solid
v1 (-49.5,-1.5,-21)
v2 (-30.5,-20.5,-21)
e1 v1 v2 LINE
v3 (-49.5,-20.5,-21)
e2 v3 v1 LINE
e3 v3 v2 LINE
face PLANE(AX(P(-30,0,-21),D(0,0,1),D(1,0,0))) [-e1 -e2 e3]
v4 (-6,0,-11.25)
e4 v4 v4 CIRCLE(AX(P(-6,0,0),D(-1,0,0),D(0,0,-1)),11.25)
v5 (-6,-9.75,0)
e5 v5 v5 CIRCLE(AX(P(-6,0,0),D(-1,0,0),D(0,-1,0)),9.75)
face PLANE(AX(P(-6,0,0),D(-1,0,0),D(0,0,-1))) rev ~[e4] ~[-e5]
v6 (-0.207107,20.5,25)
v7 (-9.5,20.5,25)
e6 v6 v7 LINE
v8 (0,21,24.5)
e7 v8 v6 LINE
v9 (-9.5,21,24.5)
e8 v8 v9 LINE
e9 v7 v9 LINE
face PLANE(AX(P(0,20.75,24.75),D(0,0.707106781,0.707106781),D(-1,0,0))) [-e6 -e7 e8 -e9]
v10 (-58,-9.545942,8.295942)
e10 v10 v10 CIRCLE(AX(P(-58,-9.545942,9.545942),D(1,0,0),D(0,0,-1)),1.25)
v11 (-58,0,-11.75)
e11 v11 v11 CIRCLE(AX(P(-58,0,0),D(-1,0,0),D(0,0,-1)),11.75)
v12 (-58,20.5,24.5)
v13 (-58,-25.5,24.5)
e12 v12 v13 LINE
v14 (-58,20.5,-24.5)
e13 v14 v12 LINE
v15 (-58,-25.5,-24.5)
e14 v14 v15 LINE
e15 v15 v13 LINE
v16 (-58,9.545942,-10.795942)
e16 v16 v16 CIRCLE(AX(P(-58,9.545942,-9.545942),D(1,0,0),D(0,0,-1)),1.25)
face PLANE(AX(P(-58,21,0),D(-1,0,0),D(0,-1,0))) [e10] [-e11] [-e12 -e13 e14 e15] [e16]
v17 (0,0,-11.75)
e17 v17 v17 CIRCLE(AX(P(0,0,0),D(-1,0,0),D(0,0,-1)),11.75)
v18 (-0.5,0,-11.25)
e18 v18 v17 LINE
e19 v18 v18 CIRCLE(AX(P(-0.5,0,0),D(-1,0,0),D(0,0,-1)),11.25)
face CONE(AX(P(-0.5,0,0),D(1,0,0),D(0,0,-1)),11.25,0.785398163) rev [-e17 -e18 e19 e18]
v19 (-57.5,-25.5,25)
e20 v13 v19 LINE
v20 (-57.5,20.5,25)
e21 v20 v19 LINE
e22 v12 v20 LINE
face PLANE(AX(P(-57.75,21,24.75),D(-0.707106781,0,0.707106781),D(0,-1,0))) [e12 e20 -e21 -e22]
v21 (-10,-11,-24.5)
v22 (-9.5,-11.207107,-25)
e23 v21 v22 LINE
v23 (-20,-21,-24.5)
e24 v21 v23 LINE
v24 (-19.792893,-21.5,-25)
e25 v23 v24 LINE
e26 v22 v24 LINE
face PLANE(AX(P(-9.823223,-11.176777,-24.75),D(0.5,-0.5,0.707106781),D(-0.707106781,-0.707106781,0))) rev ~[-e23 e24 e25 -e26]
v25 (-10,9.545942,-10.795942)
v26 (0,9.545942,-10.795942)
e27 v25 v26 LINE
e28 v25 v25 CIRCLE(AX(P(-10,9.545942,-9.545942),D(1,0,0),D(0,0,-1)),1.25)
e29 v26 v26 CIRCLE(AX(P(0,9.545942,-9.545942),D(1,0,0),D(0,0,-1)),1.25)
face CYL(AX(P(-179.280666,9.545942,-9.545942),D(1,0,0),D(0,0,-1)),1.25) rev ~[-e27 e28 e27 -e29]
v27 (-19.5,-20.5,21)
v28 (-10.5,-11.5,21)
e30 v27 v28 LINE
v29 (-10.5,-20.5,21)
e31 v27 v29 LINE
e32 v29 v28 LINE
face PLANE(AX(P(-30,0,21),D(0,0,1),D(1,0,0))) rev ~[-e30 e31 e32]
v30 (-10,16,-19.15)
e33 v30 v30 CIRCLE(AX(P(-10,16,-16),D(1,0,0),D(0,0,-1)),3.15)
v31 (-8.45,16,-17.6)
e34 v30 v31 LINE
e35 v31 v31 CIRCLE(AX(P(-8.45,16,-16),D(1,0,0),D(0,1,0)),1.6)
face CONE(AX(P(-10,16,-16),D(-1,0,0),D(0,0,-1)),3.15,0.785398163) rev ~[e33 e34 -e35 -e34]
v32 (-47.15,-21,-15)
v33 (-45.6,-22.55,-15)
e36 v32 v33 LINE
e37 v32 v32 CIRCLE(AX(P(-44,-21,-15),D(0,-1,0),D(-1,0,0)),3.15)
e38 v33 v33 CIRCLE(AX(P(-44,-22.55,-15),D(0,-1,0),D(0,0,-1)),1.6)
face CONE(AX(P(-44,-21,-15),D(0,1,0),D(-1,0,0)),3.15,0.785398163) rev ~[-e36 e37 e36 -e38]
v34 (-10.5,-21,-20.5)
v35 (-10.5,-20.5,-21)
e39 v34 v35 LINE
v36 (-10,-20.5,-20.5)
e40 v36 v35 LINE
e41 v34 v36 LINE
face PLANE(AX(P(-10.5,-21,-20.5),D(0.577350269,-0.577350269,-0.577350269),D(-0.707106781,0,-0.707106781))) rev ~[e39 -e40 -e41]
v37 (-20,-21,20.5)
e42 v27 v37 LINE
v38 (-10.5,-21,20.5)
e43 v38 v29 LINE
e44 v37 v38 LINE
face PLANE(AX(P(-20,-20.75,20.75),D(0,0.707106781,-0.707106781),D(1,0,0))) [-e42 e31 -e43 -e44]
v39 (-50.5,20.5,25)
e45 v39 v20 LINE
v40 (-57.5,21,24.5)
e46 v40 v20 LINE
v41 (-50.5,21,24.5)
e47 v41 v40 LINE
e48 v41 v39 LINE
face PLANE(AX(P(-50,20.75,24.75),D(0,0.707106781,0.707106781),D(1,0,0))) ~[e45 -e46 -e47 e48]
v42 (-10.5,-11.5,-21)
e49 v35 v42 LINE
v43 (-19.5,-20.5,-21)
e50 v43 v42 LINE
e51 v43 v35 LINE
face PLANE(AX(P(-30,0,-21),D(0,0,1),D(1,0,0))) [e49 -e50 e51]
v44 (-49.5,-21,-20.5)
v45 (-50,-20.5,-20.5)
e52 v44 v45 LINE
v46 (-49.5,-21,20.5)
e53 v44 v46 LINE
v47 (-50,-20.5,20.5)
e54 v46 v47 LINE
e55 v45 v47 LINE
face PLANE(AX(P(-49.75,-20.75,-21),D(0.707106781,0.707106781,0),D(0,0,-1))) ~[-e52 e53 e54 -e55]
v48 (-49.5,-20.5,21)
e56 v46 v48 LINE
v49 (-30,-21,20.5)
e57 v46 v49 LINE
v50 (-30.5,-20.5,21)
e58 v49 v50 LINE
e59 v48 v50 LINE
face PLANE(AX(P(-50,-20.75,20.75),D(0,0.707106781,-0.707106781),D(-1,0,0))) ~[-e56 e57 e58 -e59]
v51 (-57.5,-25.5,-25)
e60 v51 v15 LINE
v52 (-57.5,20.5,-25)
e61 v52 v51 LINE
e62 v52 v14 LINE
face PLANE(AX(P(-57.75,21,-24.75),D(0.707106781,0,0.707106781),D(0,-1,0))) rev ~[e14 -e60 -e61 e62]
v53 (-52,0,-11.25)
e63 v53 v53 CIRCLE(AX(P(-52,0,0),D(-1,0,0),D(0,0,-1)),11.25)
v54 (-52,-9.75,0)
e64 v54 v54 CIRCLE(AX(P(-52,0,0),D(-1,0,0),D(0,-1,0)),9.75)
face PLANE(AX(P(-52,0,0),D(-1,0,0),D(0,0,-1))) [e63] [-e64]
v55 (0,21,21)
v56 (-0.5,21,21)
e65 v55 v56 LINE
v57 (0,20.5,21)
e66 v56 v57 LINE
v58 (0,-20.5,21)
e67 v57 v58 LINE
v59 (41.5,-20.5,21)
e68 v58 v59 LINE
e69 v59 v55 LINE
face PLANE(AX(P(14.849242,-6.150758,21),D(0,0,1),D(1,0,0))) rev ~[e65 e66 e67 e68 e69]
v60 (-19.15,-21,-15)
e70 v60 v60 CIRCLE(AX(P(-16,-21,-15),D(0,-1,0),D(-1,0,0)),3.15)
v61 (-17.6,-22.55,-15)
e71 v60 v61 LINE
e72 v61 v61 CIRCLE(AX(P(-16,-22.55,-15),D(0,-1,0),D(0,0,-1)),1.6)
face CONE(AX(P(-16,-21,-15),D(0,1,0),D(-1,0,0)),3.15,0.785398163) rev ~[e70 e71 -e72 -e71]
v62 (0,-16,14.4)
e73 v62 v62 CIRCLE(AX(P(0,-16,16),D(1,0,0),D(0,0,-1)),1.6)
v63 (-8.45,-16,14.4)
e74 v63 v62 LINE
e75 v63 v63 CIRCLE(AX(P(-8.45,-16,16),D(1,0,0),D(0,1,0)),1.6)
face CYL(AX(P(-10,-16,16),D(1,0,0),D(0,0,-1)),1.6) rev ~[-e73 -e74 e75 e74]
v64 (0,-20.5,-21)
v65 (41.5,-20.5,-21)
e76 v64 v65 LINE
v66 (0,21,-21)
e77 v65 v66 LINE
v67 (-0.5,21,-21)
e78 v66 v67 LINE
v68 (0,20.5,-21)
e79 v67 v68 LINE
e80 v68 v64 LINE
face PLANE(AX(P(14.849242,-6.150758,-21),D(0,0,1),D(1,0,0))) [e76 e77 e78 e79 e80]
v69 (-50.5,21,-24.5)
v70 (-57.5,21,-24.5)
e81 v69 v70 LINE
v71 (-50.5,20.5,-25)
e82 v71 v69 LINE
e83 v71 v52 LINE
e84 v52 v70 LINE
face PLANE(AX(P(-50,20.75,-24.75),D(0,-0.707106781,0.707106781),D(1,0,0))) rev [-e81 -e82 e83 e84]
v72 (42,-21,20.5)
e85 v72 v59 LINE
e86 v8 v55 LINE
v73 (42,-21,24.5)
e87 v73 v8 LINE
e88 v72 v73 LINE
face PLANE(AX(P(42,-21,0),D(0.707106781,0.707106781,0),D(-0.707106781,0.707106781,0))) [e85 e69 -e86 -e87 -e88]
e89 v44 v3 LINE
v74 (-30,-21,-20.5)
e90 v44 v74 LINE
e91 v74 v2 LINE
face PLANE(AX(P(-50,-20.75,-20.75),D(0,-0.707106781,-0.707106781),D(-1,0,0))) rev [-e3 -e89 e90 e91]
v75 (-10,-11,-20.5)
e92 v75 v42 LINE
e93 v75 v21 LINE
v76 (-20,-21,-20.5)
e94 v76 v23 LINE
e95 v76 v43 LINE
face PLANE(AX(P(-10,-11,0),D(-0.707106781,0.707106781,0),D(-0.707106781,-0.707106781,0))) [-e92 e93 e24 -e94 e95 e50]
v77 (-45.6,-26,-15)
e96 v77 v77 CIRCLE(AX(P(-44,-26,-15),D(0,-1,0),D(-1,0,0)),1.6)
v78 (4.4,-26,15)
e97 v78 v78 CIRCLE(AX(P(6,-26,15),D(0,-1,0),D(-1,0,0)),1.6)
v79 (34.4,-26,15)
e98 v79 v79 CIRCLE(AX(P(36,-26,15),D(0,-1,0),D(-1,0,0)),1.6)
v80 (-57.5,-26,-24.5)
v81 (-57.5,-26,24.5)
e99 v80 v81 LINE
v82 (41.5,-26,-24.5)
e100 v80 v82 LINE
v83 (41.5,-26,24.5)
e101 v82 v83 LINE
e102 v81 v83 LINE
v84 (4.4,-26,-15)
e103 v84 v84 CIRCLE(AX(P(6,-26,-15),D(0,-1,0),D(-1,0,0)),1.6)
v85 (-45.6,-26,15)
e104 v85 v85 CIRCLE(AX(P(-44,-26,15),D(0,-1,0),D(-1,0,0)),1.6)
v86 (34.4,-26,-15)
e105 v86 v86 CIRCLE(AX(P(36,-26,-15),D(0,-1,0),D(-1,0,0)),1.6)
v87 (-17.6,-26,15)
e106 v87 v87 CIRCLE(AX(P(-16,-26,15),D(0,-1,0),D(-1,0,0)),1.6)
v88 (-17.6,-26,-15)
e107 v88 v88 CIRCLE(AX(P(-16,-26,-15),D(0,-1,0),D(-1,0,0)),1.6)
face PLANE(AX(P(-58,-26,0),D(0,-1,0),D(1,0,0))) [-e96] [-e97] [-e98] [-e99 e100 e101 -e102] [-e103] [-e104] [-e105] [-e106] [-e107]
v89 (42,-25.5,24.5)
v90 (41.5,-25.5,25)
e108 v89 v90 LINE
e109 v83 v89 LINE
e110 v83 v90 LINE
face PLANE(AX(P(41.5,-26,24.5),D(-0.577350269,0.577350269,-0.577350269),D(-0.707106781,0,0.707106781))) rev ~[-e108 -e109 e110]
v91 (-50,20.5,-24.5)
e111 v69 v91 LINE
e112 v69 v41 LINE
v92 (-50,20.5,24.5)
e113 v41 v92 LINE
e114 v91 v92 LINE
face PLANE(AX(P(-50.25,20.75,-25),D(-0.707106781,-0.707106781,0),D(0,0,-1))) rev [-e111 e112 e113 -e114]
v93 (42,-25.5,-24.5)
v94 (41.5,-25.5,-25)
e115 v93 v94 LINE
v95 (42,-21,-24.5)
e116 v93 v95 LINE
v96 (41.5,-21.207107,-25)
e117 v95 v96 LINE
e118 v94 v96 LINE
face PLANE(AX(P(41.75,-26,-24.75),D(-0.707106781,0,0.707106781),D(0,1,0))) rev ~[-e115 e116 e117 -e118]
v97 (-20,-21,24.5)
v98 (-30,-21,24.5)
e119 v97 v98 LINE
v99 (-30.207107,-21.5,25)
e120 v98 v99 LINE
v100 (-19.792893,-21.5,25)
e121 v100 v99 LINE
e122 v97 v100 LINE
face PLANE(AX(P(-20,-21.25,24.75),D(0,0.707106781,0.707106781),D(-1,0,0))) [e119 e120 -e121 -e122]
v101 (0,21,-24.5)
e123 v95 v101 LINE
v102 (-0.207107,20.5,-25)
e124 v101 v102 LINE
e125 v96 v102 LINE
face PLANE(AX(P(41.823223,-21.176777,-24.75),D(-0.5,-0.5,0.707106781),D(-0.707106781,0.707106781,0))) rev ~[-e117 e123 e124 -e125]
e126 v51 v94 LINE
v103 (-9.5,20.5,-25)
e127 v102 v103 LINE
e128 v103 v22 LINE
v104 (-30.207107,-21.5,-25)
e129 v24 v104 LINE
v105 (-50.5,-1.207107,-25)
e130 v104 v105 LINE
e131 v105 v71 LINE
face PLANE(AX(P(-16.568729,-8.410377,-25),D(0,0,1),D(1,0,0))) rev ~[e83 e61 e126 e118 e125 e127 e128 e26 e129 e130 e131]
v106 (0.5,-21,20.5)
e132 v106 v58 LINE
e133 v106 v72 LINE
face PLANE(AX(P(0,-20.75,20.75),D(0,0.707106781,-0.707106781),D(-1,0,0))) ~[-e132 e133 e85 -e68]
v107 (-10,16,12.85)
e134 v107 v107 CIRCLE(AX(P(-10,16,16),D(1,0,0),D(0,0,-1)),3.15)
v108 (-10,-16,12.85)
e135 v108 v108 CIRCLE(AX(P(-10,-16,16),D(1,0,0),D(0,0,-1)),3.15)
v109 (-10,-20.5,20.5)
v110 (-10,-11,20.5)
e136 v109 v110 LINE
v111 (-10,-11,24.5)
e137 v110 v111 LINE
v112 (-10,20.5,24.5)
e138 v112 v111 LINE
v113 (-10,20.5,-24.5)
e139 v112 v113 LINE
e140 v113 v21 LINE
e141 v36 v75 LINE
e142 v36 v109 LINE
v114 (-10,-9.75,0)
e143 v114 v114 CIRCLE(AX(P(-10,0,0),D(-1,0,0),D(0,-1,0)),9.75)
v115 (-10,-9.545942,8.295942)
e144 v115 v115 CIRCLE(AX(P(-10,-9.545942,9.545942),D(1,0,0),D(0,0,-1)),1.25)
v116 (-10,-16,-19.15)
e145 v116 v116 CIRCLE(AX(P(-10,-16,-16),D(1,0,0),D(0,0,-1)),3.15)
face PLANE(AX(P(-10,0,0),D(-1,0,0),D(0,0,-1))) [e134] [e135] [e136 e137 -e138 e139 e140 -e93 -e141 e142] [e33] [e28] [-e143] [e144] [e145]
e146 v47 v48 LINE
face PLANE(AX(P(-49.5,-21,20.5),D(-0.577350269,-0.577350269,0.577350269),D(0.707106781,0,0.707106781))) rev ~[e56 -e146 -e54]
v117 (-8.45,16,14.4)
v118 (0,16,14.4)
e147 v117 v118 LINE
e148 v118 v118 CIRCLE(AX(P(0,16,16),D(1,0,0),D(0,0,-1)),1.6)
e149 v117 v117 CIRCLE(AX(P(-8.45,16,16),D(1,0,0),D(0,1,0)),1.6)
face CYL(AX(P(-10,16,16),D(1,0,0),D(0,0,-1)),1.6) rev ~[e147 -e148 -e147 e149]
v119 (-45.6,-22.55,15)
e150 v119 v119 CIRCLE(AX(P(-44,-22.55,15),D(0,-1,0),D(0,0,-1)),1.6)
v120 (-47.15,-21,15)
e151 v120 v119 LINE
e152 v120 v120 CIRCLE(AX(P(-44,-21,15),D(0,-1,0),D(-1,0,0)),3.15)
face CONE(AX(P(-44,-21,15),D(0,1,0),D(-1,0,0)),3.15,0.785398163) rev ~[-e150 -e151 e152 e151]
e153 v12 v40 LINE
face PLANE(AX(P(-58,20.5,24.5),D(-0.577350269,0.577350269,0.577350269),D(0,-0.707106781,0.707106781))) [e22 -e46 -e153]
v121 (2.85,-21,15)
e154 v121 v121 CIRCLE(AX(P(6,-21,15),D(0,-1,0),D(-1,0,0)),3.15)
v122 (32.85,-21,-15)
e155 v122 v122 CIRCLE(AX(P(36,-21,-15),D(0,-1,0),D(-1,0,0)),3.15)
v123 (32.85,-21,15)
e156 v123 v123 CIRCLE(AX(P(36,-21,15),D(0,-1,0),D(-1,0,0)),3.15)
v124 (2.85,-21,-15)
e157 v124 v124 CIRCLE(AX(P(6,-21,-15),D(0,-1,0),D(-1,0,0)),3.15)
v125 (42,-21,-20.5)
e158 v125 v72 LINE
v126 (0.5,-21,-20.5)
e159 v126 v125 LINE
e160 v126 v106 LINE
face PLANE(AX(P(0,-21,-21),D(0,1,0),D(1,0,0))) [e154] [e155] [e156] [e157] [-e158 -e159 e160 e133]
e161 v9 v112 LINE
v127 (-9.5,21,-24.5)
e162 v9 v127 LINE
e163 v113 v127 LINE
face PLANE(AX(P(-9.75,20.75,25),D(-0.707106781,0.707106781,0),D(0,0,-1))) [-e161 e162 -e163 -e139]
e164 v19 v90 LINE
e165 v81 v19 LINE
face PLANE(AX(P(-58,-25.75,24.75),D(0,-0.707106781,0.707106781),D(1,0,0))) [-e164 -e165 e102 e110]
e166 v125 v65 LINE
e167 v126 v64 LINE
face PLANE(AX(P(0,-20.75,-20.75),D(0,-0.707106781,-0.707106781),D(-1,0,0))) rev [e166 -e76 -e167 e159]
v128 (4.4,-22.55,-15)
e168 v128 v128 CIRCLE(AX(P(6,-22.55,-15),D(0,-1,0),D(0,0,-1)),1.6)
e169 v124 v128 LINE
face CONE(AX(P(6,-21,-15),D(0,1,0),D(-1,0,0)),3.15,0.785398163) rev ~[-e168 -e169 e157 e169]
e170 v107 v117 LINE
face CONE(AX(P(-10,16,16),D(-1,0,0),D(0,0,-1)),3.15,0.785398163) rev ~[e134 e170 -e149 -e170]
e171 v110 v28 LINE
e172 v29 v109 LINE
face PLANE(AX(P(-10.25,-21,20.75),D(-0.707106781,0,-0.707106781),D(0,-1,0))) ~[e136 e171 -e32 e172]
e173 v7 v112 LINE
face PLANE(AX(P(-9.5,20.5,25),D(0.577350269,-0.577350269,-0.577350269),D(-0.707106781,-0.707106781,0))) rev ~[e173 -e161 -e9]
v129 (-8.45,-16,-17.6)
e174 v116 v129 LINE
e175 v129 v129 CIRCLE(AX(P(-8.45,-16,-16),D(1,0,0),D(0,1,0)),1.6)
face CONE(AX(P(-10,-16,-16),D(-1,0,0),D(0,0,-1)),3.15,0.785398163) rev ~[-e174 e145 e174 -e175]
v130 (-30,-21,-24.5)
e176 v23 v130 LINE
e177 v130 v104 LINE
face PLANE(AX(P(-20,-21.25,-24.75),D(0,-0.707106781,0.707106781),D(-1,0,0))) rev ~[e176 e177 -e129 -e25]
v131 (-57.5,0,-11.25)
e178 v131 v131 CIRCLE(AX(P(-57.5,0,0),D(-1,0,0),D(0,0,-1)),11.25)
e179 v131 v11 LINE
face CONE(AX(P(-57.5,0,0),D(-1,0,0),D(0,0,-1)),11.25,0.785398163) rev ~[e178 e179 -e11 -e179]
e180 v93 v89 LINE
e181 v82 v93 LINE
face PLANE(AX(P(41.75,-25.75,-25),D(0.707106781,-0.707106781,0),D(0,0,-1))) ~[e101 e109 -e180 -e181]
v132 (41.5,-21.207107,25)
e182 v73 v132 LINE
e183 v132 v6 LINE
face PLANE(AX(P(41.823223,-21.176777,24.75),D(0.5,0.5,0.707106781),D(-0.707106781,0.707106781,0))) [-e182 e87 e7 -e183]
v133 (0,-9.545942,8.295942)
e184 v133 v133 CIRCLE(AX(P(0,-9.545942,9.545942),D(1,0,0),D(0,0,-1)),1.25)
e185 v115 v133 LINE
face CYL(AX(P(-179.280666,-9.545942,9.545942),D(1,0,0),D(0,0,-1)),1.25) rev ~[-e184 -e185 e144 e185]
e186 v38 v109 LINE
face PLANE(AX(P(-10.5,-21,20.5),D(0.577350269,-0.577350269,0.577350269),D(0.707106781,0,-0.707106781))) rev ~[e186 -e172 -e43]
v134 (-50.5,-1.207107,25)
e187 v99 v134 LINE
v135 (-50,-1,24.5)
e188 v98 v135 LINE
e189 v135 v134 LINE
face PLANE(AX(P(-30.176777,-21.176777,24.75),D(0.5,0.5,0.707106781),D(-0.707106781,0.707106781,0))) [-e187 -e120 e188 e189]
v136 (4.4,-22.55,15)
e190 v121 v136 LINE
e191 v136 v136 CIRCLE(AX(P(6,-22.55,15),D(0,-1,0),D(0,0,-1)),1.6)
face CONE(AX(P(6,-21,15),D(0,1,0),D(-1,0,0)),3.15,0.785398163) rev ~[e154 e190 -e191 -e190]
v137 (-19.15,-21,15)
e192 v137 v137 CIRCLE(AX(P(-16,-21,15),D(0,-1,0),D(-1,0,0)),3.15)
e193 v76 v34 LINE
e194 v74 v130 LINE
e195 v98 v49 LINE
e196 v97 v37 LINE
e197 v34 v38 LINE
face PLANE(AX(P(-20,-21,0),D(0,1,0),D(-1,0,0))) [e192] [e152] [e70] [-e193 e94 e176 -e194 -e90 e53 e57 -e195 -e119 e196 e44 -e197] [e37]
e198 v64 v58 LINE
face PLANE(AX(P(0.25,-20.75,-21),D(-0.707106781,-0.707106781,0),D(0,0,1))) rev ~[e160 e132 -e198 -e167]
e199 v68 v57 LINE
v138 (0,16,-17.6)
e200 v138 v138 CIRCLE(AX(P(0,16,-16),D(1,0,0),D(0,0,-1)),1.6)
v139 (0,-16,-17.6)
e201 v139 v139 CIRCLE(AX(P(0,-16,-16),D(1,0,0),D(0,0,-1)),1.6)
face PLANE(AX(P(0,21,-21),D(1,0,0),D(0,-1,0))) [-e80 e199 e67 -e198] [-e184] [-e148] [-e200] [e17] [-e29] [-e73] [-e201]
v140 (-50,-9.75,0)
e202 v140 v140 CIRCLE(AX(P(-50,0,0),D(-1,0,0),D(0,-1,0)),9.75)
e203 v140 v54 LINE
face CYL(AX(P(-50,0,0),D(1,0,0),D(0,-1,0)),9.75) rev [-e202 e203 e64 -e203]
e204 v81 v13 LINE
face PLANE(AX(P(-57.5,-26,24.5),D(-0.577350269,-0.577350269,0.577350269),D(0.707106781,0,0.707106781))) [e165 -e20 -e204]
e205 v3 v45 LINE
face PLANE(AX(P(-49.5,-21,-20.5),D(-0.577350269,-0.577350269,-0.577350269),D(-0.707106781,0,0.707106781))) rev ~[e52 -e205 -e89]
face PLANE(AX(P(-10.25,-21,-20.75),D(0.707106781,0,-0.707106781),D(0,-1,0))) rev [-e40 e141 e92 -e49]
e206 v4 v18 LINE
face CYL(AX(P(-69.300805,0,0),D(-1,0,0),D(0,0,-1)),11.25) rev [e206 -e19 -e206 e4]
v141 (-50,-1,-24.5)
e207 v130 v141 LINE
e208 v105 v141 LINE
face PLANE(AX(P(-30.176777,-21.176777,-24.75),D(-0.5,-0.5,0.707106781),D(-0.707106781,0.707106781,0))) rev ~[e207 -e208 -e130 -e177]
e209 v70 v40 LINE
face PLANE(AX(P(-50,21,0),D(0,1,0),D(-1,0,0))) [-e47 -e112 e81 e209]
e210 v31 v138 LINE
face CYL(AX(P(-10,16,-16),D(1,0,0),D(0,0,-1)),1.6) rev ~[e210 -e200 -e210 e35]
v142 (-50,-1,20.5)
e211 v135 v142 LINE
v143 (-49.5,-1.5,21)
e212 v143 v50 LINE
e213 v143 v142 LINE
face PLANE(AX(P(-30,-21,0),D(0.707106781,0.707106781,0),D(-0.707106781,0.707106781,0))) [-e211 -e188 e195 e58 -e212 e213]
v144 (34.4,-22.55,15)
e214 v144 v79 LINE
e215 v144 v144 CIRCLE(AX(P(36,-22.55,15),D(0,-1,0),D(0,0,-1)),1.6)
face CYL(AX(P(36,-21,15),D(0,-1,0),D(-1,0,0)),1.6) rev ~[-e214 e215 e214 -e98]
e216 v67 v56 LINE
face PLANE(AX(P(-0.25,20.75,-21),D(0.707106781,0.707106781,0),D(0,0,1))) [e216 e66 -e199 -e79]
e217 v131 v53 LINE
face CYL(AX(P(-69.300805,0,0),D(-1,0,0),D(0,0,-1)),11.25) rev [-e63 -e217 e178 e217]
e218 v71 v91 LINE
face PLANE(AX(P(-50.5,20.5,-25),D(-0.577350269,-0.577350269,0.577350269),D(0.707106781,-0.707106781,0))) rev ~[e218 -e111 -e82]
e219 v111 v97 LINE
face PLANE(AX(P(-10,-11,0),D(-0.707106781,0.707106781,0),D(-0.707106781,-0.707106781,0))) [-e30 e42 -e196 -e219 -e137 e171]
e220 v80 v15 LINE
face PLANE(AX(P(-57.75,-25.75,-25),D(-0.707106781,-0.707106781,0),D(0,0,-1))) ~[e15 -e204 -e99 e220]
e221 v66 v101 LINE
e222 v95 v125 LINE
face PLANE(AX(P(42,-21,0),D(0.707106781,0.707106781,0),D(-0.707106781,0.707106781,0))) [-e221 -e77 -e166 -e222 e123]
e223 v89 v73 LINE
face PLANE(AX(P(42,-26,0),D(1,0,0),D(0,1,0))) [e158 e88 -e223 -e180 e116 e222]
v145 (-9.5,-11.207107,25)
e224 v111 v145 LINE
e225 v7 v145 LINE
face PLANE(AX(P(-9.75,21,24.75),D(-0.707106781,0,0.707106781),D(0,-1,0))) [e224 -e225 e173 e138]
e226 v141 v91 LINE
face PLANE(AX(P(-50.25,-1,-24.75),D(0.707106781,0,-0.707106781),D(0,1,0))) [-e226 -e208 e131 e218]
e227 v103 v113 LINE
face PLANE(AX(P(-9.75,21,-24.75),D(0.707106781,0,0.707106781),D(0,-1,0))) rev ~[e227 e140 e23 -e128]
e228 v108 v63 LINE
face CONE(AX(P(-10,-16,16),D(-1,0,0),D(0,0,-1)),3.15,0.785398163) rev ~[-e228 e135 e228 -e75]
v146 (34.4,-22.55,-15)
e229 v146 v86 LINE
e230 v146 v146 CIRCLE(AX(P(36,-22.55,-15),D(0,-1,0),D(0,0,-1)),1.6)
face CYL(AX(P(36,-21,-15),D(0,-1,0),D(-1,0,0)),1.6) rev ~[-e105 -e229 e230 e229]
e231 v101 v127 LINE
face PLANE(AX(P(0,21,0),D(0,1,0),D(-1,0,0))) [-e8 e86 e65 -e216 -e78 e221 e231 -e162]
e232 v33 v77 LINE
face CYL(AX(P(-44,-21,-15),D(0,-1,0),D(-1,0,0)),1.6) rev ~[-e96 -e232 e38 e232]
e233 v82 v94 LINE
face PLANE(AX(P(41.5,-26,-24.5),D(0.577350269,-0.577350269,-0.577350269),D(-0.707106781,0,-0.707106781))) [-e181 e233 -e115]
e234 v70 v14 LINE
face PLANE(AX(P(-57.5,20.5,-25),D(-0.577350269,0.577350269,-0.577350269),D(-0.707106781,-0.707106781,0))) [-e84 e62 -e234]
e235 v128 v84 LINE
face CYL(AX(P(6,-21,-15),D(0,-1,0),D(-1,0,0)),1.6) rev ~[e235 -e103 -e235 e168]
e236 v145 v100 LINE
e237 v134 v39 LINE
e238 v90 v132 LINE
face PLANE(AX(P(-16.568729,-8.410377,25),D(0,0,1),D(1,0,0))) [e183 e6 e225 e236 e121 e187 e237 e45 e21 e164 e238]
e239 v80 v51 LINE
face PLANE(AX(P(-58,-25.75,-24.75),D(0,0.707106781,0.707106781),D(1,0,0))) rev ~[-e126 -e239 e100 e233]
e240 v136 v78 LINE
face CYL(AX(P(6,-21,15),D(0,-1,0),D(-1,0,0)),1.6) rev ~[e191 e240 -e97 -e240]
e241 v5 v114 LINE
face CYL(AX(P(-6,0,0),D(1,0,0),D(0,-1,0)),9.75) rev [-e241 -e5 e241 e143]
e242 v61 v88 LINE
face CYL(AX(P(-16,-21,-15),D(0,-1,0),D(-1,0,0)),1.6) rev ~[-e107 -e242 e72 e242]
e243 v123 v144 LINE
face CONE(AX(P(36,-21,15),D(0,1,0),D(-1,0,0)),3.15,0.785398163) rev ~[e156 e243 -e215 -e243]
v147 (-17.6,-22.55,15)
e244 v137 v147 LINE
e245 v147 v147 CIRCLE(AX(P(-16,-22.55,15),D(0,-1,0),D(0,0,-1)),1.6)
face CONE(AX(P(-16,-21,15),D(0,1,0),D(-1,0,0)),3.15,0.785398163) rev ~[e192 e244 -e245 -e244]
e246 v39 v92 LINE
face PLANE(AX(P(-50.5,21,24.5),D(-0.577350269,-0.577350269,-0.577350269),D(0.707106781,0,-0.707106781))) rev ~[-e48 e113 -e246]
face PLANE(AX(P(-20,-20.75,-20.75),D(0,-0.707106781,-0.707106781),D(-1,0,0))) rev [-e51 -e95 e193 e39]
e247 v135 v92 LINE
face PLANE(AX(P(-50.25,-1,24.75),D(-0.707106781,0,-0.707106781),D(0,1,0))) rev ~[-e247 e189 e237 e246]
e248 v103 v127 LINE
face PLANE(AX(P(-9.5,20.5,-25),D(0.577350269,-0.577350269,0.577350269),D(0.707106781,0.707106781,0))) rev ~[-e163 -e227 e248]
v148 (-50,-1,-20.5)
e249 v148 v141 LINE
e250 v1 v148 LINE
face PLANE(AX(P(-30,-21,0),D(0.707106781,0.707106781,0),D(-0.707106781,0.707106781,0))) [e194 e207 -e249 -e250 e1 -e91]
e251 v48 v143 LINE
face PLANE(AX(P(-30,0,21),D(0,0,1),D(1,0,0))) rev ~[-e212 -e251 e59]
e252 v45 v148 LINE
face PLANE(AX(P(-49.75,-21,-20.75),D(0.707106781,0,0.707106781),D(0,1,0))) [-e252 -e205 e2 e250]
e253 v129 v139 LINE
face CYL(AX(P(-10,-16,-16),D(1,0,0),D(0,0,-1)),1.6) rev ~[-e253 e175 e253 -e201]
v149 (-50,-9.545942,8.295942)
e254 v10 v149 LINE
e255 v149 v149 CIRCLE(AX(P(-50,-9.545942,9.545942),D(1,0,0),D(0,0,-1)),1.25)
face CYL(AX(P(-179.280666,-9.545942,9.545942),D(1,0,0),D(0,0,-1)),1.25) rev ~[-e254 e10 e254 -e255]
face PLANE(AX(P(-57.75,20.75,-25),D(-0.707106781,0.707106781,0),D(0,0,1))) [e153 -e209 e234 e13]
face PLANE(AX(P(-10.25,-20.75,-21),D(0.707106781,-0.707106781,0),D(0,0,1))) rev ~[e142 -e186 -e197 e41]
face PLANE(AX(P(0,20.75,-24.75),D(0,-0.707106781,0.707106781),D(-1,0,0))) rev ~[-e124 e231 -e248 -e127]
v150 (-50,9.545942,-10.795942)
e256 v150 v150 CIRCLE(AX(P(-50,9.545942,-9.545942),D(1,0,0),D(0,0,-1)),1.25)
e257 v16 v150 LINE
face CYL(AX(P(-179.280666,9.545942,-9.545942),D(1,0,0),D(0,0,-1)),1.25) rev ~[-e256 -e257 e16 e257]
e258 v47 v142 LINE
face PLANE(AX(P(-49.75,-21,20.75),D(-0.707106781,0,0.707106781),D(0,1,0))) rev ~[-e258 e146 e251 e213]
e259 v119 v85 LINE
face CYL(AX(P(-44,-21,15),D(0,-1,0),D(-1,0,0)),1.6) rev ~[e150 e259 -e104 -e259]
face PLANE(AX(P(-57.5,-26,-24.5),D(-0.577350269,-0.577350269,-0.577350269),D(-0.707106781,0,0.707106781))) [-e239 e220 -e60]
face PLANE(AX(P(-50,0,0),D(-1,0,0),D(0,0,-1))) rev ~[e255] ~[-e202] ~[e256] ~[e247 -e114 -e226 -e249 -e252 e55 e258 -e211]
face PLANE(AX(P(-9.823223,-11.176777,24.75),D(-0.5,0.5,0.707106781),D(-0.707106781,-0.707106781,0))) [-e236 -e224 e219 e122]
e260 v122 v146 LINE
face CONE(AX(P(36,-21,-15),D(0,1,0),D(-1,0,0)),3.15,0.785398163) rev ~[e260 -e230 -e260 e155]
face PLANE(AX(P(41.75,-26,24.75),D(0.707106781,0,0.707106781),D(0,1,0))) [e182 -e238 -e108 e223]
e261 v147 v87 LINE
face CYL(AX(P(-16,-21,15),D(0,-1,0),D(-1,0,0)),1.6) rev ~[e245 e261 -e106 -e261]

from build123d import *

# Parameters (mm, degrees)
BOSS_EXTRUDE1_DEPTH                             = 25
CUT_EXTRUDE1_DEPTH                              = 21
CUT_EXTRUDE1_DEPTH_BACK                         = 21
SKETCH2_W                                       = 40
SKETCH2_H                                       = 42
CUT_EXTRUDE2_DEPTH                              = 69.300805266
CUT_EXTRUDE2_DEPTH_BACK                         = 69.300805266
SKETCH3_R                                       = 11.25
SKETCH4_R                                       = 11.25
SKETCH4_R_2                                     = 9.75
BOSS_EXTRUDE2_DEPTH                             = 2
TAP_DRILL_FOR_M3X0_5_TAP1_D                     = 2.5
CSK_FOR_M3_FLAT_HEAD_MACHINE_SCREW1_D           = 3.2
CSK_FOR_M3_FLAT_HEAD_MACHINE_SCREW1_DEPTH       = 10
CSK_FOR_M3_FLAT_HEAD_MACHINE_SCREW1_CSINK_D     = 6.3
CSK_FOR_M3_FLAT_HEAD_MACHINE_SCREW1_CSINK_ANGLE = 90
CSK_FOR_M3_FLAT_HEAD_MACHINE_SCREW2_D           = 3.2
CSK_FOR_M3_FLAT_HEAD_MACHINE_SCREW2_CSINK_D     = 6.3
CSK_FOR_M3_FLAT_HEAD_MACHINE_SCREW2_CSINK_ANGLE = 90
CHAMFER1_SIZE                                   = 0.5
BOSS_EXTRUDE3_START                             = -44
SKETCH4_2_R                                     = 11.25
SKETCH4_2_R_2                                   = 9.75
BOSS_EXTRUDE3_DEPTH                             = 4


with BuildPart() as part:
    # Sketch1 → Boss-Extrude1 (new, symmetric)
    with BuildSketch(Plane.XY):
        Polygon((-10, 21), (-10, -11), (-20, -21), (-30, -21), (-50, -1), (-50, 21), (-58, 21), (-58, -26), (42, -26), (42, -21), (0, 21), align=None)
    extrude(amount=BOSS_EXTRUDE1_DEPTH, both=True)

    # Sketch2 → Cut-Extrude1 (cut, two sides: drawn at the far end of the back side and taken through both)
    with BuildSketch(Plane.XY.offset(-CUT_EXTRUDE1_DEPTH_BACK)):
        with Locations((-30, 0)):
            Rectangle(SKETCH2_W, SKETCH2_H)
        Polygon((0, 21), (0, -21), (42, -21), align=None)
    extrude(amount=CUT_EXTRUDE1_DEPTH + CUT_EXTRUDE1_DEPTH_BACK, mode=Mode.SUBTRACT)

    # Sketch3 → Cut-Extrude2 (cut, two sides: drawn at the far end of the back side and taken through both)
    with BuildSketch(Plane(origin=(0, 0, 0), x_dir=(0, 0, -1), z_dir=(1, 0, 0)).offset(-CUT_EXTRUDE2_DEPTH_BACK)):
        Circle(SKETCH3_R)
    extrude(amount=CUT_EXTRUDE2_DEPTH + CUT_EXTRUDE2_DEPTH_BACK, mode=Mode.SUBTRACT)

    # Sketch4 → Boss-Extrude2 (add)
    with BuildSketch(Plane.ZY.offset(50)):
        with Locations(Location((0, 0, 0), (0, 0, 180))):
            Circle(SKETCH4_R)
        with Locations(Location((0, 0, 0), (0, 0, 270))):
            Circle(SKETCH4_R_2, mode=Mode.SUBTRACT)
    extrude(amount=BOSS_EXTRUDE2_DEPTH)

    # Tap Drill for M3x0.5 Tap1 (through all)
    with Locations(Plane.ZY.offset(58)):
        with Locations((-9.545941546, 9.545941546), (9.545941546, -9.545941546)):
            Hole(TAP_DRILL_FOR_M3X0_5_TAP1_D / 2)

    # CSK for M3 Flat Head Machine Screw1
    with Locations(Plane.ZY.offset(10)):
        with Locations((-16, 16), (16, 16), (16, -16), (-16, -16), (0, 0)):
            CounterSinkHole(CSK_FOR_M3_FLAT_HEAD_MACHINE_SCREW1_D / 2, CSK_FOR_M3_FLAT_HEAD_MACHINE_SCREW1_CSINK_D / 2, depth=CSK_FOR_M3_FLAT_HEAD_MACHINE_SCREW1_DEPTH, counter_sink_angle=CSK_FOR_M3_FLAT_HEAD_MACHINE_SCREW1_CSINK_ANGLE)

    # CSK for M3 Flat Head Machine Screw2 (through all)
    with Locations(Plane(origin=(0, -21, 0), x_dir=(1, 0, 0), z_dir=(0, 1, 0))):
        with Locations((-44, 15), (-16, 15), (36, 15), (36, -15), (-16, -15), (-44, -15), (6, -15), (6, 15)):
            CounterSinkHole(CSK_FOR_M3_FLAT_HEAD_MACHINE_SCREW2_D / 2, CSK_FOR_M3_FLAT_HEAD_MACHINE_SCREW2_CSINK_D / 2, counter_sink_angle=CSK_FOR_M3_FLAT_HEAD_MACHINE_SCREW2_CSINK_ANGLE)

    # Chamfer1
    chamfer1_edges = [part.edges().sort_by_distance(p)[0] for p in [
        (0, 0, 11.25),
        (-58, 0, 11.25),
        (-10, -16, -21),
        (-10, -16, 21),
        (-15, -21, 21),
        (-10, -21, 0),
        (-15, -21, -21),
        (-50, -11, 21),
        (-50, -11, -21),
        (-40, -21, -21),
        (-50, -21, 0),
        (-40, -21, 21),
        (21, -21, 21),
        (0, -21, 0),
        (21, -21, -21),
        (0, 21, 0),
        (-10, 21, 0),
        (-5, 21, 25),
        (-10, 5, 25),
        (-15, -16, 25),
        (-25, -21, 25),
        (-40, -11, 25),
        (-50, 10, 25),
        (-54, 21, 25),
        (-50, 21, 0),
        (-58, 21, 0),
        (-54, 21, -25),
        (-50, 10, -25),
        (-40, -11, -25),
        (-25, -21, -25),
        (-15, -16, -25),
        (-10, 5, -25),
        (-5, 21, -25),
        (21, 0, 25),
        (21, 0, -25),
        (42, -23.5, 25),
        (42, -23.5, -25),
        (-58, -2.5, -25),
        (-58, -2.5, 25),
        (42, -26, 0),
        (-8, -26, -25),
        (-58, -26, 0),
        (-8, -26, 25),
    ]]
    chamfer(chamfer1_edges, length=CHAMFER1_SIZE)

    # Sketch4<2> → Boss-Extrude3 (add)
    with BuildSketch(Plane.ZY.offset(50).offset(BOSS_EXTRUDE3_START)):
        with Locations(Location((0, 0, 0), (0, 0, 180))):
            Circle(SKETCH4_2_R)
        with Locations(Location((0, 0, 0), (0, 0, 270))):
            Circle(SKETCH4_2_R_2, mode=Mode.SUBTRACT)
    extrude(amount=BOSS_EXTRUDE3_DEPTH)


solid = part.part
